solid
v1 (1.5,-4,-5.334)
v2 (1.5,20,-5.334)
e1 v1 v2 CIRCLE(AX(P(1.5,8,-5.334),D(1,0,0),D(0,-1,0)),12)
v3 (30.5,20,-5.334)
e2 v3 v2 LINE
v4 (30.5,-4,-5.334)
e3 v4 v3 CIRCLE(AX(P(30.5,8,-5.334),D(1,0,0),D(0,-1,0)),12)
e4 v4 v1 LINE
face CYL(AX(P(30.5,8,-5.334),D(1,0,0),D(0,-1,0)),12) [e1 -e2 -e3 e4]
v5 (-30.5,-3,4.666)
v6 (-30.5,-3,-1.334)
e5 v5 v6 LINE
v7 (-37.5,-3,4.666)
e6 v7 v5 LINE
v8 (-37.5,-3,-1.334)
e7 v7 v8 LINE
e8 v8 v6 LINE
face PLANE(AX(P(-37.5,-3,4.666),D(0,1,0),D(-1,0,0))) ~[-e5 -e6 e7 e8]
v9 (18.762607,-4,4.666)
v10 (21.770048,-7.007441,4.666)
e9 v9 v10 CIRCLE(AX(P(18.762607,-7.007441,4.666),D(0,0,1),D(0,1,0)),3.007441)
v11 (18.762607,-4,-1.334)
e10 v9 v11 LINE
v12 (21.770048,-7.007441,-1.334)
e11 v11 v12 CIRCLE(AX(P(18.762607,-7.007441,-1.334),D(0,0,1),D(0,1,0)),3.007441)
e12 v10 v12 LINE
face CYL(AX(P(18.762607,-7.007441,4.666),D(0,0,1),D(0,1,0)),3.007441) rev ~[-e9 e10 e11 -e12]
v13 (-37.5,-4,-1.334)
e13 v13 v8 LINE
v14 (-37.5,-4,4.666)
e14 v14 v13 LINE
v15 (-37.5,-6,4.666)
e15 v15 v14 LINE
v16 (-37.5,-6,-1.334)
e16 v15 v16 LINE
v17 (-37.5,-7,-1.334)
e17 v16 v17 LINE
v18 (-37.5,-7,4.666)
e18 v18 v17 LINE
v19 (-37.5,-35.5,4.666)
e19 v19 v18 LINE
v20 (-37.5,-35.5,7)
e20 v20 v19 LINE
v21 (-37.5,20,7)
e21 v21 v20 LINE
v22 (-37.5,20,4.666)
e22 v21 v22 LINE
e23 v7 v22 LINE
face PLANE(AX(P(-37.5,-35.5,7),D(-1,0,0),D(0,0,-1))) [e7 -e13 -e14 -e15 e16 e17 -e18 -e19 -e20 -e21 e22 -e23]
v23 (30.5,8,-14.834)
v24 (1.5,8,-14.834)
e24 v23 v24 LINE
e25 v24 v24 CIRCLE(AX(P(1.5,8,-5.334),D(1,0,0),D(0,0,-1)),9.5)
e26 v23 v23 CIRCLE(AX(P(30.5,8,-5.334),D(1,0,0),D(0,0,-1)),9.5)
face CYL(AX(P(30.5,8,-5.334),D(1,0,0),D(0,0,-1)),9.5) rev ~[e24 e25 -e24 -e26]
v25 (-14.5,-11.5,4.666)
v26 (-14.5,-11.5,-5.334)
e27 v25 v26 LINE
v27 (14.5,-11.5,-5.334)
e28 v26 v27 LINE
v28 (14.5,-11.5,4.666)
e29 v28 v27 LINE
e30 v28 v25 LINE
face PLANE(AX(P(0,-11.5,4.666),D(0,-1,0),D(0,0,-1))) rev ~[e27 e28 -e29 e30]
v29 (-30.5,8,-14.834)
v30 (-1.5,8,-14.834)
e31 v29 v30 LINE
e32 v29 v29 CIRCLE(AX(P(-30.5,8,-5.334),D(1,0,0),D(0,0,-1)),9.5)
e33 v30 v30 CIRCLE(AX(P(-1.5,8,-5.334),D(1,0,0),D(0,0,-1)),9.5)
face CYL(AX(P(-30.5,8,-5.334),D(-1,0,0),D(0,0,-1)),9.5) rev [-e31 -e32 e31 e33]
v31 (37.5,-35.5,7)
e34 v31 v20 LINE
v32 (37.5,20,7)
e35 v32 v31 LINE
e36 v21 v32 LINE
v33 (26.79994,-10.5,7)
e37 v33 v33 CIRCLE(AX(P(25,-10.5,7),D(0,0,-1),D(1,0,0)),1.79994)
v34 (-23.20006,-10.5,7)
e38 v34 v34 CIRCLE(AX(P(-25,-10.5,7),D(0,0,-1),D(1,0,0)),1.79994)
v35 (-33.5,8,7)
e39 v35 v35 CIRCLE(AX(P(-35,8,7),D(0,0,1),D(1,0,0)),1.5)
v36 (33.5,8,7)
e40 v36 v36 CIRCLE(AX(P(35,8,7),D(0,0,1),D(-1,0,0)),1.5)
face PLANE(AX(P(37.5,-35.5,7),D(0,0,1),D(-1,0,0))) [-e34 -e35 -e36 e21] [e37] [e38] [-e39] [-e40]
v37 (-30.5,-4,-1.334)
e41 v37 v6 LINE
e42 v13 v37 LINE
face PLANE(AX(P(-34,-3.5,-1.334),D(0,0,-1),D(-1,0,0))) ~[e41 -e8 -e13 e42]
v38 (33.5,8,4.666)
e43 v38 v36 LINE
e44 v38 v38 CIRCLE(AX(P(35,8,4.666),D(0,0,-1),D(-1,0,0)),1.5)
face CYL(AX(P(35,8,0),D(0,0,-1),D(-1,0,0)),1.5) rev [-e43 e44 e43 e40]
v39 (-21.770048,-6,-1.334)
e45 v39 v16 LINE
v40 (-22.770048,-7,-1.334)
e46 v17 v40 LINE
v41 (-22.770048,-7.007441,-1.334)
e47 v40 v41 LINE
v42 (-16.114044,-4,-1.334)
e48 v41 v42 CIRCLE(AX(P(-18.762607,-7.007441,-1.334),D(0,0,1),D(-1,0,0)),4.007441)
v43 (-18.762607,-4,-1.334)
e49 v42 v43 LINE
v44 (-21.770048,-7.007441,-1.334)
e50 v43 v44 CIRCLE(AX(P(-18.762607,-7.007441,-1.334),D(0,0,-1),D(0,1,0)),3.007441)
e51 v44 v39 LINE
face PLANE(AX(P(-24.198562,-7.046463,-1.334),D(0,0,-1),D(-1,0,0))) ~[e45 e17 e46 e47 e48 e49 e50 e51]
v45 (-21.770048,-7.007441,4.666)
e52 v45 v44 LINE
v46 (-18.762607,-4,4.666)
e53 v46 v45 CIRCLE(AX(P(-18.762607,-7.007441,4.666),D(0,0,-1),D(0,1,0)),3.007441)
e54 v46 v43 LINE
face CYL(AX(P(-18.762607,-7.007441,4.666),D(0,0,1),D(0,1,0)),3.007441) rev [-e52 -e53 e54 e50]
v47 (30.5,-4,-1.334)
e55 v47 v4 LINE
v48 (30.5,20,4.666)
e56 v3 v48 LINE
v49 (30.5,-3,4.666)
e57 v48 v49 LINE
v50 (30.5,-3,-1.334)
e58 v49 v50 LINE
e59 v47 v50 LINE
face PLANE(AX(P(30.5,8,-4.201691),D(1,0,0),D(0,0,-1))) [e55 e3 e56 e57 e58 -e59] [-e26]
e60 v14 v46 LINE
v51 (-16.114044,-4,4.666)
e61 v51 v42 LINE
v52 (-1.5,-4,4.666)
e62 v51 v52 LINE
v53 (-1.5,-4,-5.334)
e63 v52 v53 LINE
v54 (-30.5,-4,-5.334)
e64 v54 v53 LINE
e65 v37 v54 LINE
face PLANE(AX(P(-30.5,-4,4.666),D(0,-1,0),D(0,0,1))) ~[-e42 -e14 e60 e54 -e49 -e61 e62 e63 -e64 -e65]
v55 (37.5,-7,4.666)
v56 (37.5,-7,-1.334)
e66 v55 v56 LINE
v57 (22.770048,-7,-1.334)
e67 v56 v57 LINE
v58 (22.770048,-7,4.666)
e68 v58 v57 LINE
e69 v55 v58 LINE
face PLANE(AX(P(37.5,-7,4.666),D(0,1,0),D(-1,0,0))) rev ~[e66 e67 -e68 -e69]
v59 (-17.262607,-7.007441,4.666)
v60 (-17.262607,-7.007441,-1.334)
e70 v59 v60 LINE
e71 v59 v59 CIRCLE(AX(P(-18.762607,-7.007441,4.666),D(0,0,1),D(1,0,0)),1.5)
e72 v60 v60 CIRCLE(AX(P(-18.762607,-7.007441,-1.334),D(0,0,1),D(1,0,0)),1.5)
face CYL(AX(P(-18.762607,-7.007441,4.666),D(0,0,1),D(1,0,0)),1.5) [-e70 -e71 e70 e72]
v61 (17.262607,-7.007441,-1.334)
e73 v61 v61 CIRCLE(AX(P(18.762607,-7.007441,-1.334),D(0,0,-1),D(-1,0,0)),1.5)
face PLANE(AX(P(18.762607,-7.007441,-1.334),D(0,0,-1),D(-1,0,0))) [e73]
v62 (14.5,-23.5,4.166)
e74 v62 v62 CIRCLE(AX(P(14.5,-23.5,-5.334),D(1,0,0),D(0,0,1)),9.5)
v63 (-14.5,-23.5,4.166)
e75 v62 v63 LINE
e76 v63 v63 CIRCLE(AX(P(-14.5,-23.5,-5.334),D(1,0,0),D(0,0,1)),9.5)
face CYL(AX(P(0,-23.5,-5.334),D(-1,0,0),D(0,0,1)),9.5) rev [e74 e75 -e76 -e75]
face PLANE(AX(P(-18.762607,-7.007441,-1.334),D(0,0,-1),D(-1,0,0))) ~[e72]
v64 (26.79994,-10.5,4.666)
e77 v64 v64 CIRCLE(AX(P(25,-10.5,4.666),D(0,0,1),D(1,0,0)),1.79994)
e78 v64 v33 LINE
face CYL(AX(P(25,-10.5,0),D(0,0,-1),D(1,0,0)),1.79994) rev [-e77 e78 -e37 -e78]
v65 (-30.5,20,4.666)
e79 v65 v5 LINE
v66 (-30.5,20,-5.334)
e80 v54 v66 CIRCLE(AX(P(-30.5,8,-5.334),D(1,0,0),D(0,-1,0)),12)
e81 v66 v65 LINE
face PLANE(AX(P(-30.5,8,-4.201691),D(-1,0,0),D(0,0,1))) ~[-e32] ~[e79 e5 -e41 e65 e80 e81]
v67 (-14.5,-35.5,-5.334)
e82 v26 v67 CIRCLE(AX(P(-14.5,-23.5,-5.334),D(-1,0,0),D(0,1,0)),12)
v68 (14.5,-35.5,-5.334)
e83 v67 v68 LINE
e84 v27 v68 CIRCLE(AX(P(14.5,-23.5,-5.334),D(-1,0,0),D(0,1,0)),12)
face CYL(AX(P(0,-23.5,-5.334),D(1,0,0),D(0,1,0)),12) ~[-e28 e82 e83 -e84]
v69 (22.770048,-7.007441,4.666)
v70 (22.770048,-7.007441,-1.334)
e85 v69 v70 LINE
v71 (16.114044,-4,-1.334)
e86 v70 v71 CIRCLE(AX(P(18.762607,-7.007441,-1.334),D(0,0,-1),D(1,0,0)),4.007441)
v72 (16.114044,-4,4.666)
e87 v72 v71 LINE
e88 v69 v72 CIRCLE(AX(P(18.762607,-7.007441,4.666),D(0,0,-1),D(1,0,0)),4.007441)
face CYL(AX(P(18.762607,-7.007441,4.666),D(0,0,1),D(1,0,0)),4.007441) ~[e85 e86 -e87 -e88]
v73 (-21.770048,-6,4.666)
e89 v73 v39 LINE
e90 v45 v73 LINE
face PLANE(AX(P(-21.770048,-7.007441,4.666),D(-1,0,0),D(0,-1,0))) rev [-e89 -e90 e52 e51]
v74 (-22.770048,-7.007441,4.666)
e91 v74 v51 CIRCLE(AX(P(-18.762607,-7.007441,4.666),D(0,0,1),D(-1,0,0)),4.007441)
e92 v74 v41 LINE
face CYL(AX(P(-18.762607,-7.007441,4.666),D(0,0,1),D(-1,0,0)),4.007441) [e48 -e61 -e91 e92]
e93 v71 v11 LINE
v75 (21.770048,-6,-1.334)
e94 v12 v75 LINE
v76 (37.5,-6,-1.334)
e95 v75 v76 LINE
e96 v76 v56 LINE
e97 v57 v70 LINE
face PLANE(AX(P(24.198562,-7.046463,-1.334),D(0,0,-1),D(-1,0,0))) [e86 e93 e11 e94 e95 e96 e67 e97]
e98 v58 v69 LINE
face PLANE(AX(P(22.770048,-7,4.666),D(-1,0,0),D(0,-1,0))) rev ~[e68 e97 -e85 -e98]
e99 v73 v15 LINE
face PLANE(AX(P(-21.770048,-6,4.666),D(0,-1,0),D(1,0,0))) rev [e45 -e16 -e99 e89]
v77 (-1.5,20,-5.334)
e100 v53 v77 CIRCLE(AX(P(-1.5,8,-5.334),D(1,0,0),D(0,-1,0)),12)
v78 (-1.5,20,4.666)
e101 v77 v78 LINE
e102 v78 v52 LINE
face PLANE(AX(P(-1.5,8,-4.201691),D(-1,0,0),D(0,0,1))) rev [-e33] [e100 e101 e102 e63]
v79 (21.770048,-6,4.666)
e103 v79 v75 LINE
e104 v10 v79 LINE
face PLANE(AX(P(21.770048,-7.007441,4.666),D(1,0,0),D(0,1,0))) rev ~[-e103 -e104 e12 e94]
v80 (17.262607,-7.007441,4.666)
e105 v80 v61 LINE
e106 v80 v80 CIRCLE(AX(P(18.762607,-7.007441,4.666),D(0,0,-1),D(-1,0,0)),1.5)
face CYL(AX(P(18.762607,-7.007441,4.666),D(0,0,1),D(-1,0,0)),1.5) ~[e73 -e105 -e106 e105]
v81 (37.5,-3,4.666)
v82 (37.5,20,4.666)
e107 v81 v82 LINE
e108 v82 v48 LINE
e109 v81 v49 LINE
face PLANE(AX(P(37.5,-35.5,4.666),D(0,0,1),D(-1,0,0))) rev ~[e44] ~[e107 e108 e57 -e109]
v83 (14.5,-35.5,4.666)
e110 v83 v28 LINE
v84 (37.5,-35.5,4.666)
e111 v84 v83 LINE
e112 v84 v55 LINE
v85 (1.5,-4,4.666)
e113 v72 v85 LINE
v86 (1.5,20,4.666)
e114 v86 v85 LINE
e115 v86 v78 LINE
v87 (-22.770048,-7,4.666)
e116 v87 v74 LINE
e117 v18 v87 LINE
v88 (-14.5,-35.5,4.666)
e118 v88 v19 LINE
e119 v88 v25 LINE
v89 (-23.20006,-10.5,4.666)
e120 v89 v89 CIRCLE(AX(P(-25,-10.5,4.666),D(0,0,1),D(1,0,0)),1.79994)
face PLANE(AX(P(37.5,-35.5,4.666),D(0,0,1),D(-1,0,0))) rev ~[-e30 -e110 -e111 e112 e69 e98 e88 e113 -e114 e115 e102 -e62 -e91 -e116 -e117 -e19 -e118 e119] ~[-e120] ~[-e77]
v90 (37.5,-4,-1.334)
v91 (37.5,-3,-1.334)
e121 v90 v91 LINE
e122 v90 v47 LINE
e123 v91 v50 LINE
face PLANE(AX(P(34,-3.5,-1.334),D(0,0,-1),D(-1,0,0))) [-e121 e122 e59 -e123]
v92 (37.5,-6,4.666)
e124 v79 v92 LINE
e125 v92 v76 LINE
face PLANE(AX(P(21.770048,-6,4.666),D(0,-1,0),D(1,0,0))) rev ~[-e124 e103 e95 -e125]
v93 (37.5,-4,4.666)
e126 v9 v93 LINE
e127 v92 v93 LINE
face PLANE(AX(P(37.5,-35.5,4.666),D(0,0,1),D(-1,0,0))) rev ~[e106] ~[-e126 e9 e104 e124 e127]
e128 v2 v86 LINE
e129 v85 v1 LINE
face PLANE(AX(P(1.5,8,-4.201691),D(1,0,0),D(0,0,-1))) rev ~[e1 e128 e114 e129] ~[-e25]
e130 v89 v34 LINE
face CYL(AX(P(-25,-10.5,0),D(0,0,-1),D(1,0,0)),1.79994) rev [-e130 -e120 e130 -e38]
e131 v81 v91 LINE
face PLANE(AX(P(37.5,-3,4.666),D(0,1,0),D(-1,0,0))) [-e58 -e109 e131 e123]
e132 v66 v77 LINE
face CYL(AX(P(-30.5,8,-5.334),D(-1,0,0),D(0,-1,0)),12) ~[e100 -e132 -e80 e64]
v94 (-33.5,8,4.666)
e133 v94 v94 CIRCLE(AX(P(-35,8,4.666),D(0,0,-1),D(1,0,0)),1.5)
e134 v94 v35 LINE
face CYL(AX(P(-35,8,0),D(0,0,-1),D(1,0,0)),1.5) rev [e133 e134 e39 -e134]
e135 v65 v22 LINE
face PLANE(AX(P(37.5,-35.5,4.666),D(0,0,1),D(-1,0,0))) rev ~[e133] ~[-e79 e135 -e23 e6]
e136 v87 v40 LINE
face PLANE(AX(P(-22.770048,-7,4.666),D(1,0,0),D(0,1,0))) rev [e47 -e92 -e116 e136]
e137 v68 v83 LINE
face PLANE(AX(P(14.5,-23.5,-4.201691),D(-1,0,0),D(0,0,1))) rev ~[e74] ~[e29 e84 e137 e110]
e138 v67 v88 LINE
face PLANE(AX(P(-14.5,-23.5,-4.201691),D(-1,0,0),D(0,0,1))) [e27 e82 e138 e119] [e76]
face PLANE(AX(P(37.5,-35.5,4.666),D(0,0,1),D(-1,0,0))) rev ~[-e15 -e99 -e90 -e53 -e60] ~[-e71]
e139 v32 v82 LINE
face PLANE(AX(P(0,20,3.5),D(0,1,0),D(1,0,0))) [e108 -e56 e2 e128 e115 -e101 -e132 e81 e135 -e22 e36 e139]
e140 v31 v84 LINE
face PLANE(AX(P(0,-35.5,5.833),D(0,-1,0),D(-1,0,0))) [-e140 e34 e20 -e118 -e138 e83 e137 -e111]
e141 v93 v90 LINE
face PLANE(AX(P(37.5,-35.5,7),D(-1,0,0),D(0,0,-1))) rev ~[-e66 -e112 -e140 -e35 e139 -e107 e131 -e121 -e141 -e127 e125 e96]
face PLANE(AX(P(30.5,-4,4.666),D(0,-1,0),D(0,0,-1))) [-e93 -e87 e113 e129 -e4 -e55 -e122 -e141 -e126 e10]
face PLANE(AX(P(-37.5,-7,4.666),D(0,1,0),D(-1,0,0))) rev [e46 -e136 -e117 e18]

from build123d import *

# Parameters (mm, degrees)
SKETCH1_R              = 1.79994
SKETCH1_R_2            = 1.5
BOSS_EXTRUDE1_DEPTH    = 7
SKETCH2_W              = 75
SKETCH2_H              = 13.099999962
SKETCH2_R              = 2.6999438
SKETCH2_R_2            = 2.499995
SKETCH2_R_3            = 1.3498449
BOSS_EXTRUDE2_DEPTH    = 6.987999994
SKETCH2_3_R            = 2.6999438
SKETCH2_3_R_2          = 1.3498449
CUT_EXTRUDE1_DEPTH     = 2.5
SKETCH5_W              = 75
SKETCH5_H              = 13.099999962
CUT_EXTRUDE3_DEPTH     = 21.082
SKETCH6_W              = 75
SKETCH6_H              = 7
BOSS_EXTRUDE3_DEPTH    = 9.5
SKETCH8_W              = 75
SKETCH8_H              = 38.030205227
CUT_EXTRUDE4_DEPTH     = 4.666
SKETCH10_W             = 75
SKETCH10_H             = 2.334
BOSS_EXTRUDE5_DEPTH    = 25.000000038
SKETCH11_R             = 1.79994
CUT_EXTRUDE5_DEPTH     = 5
SKETCH15_W             = 44.653530321
SKETCH15_H             = 13.617301916
SKETCH15_W_2           = 11.728266088
SKETCH15_H_2           = 5.987537529
BOSS_EXTRUDE7_DEPTH    = 2.334
SKETCH16_R             = 9.5
BOSS_EXTRUDE9_DEPTH    = 29
SKETCH17_R             = 9.5
BOSS_EXTRUDE11_DEPTH   = 14.5
SKETCH18_W             = 6.99999997
SKETCH18_H             = 1
BOSS_EXTRUDE12_DEPTH   = 6
BOSS_EXTRUDE12_2_DEPTH = 6
SKETCH18_R             = 1.5
BOSS_EXTRUDE12_3_DEPTH = 6


with BuildPart() as part:
    # Sketch1 → Boss-Extrude1 (new body)
    with BuildSketch(Plane.XY):
        with BuildLine():
            Line((37.5, -10.5), (30, -10.5))
            ThreePointArc((30, -10.5), (25, -15.5), (20, -10.5))
            Line((20, -10.5), (5, -10.5))
            ThreePointArc((5, -10.5), (0, -15.5), (-5, -10.5))
            Line((-5, -10.5), (-20, -10.5))
            ThreePointArc((-20, -10.5), (-25, -15.5), (-30, -10.5))
            Line((-30, -10.5), (-37.5, -10.5))
            Line((-37.5, -10.5), (-37.5, 10.5))
            Line((-37.5, 10.5), (37.5, 10.5))
            Line((37.5, 10.5), (37.5, -10.5))
        make_face()
        with Locations((-25, -10.5)):
            Circle(SKETCH1_R, mode=Mode.SUBTRACT)
        with Locations((0, -10.5)):
            Circle(SKETCH1_R, mode=Mode.SUBTRACT)
        with Locations((25, -10.5)):
            Circle(SKETCH1_R, mode=Mode.SUBTRACT)
        with Locations((-35, 8)):
            Circle(SKETCH1_R_2, mode=Mode.SUBTRACT)
        with Locations(Location((-15, 8, 0), (0, 0, 180))):
            Circle(SKETCH1_R_2, mode=Mode.SUBTRACT)
        with Locations((-10, 8)):
            Circle(SKETCH1_R_2, mode=Mode.SUBTRACT)
        with Locations(Location((10, 8, 0), (0, 0, 180))):
            Circle(SKETCH1_R_2, mode=Mode.SUBTRACT)
        with Locations(Location((35, 8, 0), (0, 0, 180))):
            Circle(SKETCH1_R_2, mode=Mode.SUBTRACT)
        with Locations((15, 8)):
            Circle(SKETCH1_R_2, mode=Mode.SUBTRACT)
    extrude(amount=BOSS_EXTRUDE1_DEPTH)

    # Sketch2 → Boss-Extrude2 (add)
    # profile 1 of 7: a face of its own
    with BuildSketch(Plane(origin=(0, 2.24999999, 0), x_dir=(1, 0, 0), z_dir=(0, 1, 0))):
        with Locations((0, -13.549999981)):
            Rectangle(SKETCH2_W, SKETCH2_H)
        with Locations((31.0001404, -13.549999981)):
            Circle(SKETCH2_R, mode=Mode.SUBTRACT)
        with Locations((-31.0001404, -13.549999981)):
            Circle(SKETCH2_R, mode=Mode.SUBTRACT)
        with Locations(Location((-25, -13.549999981, 0), (0, 0, 180))):
            Circle(SKETCH2_R_2, mode=Mode.SUBTRACT)
        with Locations((-6.0001404, -13.549999981)):
            Circle(SKETCH2_R, mode=Mode.SUBTRACT)
        with Locations((6.0001404, -13.549999981)):
            Circle(SKETCH2_R, mode=Mode.SUBTRACT)
        with Locations(Location((0, -13.549999981, 0), (0, 0, 180))):
            Circle(SKETCH2_R_2, mode=Mode.SUBTRACT)
        with Locations((-18.9998596, -13.549999981)):
            Circle(SKETCH2_R, mode=Mode.SUBTRACT)
        with Locations(Location((25, -13.549999981, 0), (0, 0, 180))):
            Circle(SKETCH2_R_2, mode=Mode.SUBTRACT)
        with Locations((18.9998596, -13.549999981)):
            Circle(SKETCH2_R, mode=Mode.SUBTRACT)
    # profile 2 of 7: a face of its own
    with BuildSketch(Plane(origin=(0, 2.24999999, 0), x_dir=(1, 0, 0), z_dir=(0, 1, 0))):
        with Locations((-31.0001404, -13.549999981)):
            Circle(SKETCH2_R)
        with Locations(Location((-31.0001404, -13.549999981, 0), (0, 0, 180))):
            Circle(SKETCH2_R_3, mode=Mode.SUBTRACT)
    # profile 3 of 7: a face of its own
    with BuildSketch(Plane(origin=(0, 2.24999999, 0), x_dir=(1, 0, 0), z_dir=(0, 1, 0))):
        with Locations((-18.9998596, -13.549999981)):
            Circle(SKETCH2_R)
        with Locations(Location((-18.9998596, -13.549999981, 0), (0, 0, 180))):
            Circle(SKETCH2_R_3, mode=Mode.SUBTRACT)
    # profile 4 of 7: a face of its own
    with BuildSketch(Plane(origin=(0, 2.24999999, 0), x_dir=(1, 0, 0), z_dir=(0, 1, 0))):
        with Locations((-6.0001404, -13.549999981)):
            Circle(SKETCH2_R)
        with Locations(Location((-6.0001404, -13.549999981, 0), (0, 0, 180))):
            Circle(SKETCH2_R_3, mode=Mode.SUBTRACT)
    # profile 5 of 7: a face of its own
    with BuildSketch(Plane(origin=(0, 2.24999999, 0), x_dir=(1, 0, 0), z_dir=(0, 1, 0))):
        with Locations((6.0001404, -13.549999981)):
            Circle(SKETCH2_R)
        with Locations(Location((6.0001404, -13.549999981, 0), (0, 0, 180))):
            Circle(SKETCH2_R_3, mode=Mode.SUBTRACT)
    # profile 6 of 7: a face of its own
    with BuildSketch(Plane(origin=(0, 2.24999999, 0), x_dir=(1, 0, 0), z_dir=(0, 1, 0))):
        with Locations((18.9998596, -13.549999981)):
            Circle(SKETCH2_R)
        with Locations(Location((18.9998596, -13.549999981, 0), (0, 0, 180))):
            Circle(SKETCH2_R_3, mode=Mode.SUBTRACT)
    # profile 7 of 7: a face of its own
    with BuildSketch(Plane(origin=(0, 2.24999999, 0), x_dir=(1, 0, 0), z_dir=(0, 1, 0))):
        with Locations((31.0001404, -13.549999981)):
            Circle(SKETCH2_R)
        with Locations(Location((31.0001404, -13.549999981, 0), (0, 0, 180))):
            Circle(SKETCH2_R_3, mode=Mode.SUBTRACT)
    extrude(amount=-BOSS_EXTRUDE2_DEPTH)

    # Sketch2<3> → Cut-Extrude1 (cut)
    # profile 1 of 6: a face of its own
    with BuildSketch(Plane(origin=(0, 2.24999999, 0), x_dir=(1, 0, 0), z_dir=(0, 1, 0))):
        with Locations(Location((-31.0001404, -13.549999981, 0), (0, 0, 180))):
            Circle(SKETCH2_3_R)
        with Locations(Location((-31.0001404, -13.549999981, 0), (0, 0, 180))):
            Circle(SKETCH2_3_R_2, mode=Mode.SUBTRACT)
    # profile 2 of 6: a face of its own
    with BuildSketch(Plane(origin=(0, 2.24999999, 0), x_dir=(1, 0, 0), z_dir=(0, 1, 0))):
        with Locations(Location((-18.9998596, -13.549999981, 0), (0, 0, 180))):
            Circle(SKETCH2_3_R)
        with Locations(Location((-18.9998596, -13.549999981, 0), (0, 0, 180))):
            Circle(SKETCH2_3_R_2, mode=Mode.SUBTRACT)
    # profile 3 of 6: a face of its own
    with BuildSketch(Plane(origin=(0, 2.24999999, 0), x_dir=(1, 0, 0), z_dir=(0, 1, 0))):
        with Locations(Location((-6.0001404, -13.549999981, 0), (0, 0, 180))):
            Circle(SKETCH2_3_R)
        with Locations(Location((-6.0001404, -13.549999981, 0), (0, 0, 180))):
            Circle(SKETCH2_3_R_2, mode=Mode.SUBTRACT)
    # profile 4 of 6: a face of its own
    with BuildSketch(Plane(origin=(0, 2.24999999, 0), x_dir=(1, 0, 0), z_dir=(0, 1, 0))):
        with Locations(Location((6.0001404, -13.549999981, 0), (0, 0, 180))):
            Circle(SKETCH2_3_R)
        with Locations(Location((6.0001404, -13.549999981, 0), (0, 0, 180))):
            Circle(SKETCH2_3_R_2, mode=Mode.SUBTRACT)
    # profile 5 of 6: a face of its own
    with BuildSketch(Plane(origin=(0, 2.24999999, 0), x_dir=(1, 0, 0), z_dir=(0, 1, 0))):
        with Locations(Location((18.9998596, -13.549999981, 0), (0, 0, 180))):
            Circle(SKETCH2_3_R)
        with Locations(Location((18.9998596, -13.549999981, 0), (0, 0, 180))):
            Circle(SKETCH2_3_R_2, mode=Mode.SUBTRACT)
    # profile 6 of 6: a face of its own
    with BuildSketch(Plane(origin=(0, 2.24999999, 0), x_dir=(1, 0, 0), z_dir=(0, 1, 0))):
        with Locations(Location((31.0001404, -13.549999981, 0), (0, 0, 180))):
            Circle(SKETCH2_3_R)
        with Locations(Location((31.0001404, -13.549999981, 0), (0, 0, 180))):
            Circle(SKETCH2_3_R_2, mode=Mode.SUBTRACT)
    extrude(amount=-CUT_EXTRUDE1_DEPTH, mode=Mode.SUBTRACT)

    # Sketch5 → Cut-Extrude3 (cut)
    with BuildSketch(Plane(origin=(0, 2.24999999, 0), x_dir=(1, 0, 0), z_dir=(0, 1, 0))):
        with Locations((0, -13.549999981)):
            Rectangle(SKETCH5_W, SKETCH5_H)
    extrude(amount=-CUT_EXTRUDE3_DEPTH, mode=Mode.SUBTRACT)

    # Sketch6 → Boss-Extrude3 (add)
    with BuildSketch(Plane(origin=(0, 10.5, 0), x_dir=(1, 0, 0), z_dir=(0, 1, 0))):
        with Locations((0, -3.5)):
            Rectangle(SKETCH6_W, SKETCH6_H)
    extrude(amount=BOSS_EXTRUDE3_DEPTH)

    # Sketch8 → Cut-Extrude4 (cut)
    with BuildSketch(Plane(origin=(0, 0, 0), x_dir=(-1, 0, 0), z_dir=(0, 0, -1))):
        with Locations((0, 0.984897387)):
            Rectangle(SKETCH8_W, SKETCH8_H)
    extrude(amount=-CUT_EXTRUDE4_DEPTH, mode=Mode.SUBTRACT)

    # Sketch10 → Boss-Extrude5 (add)
    with BuildSketch(Plane(origin=(0, -35.500000038, 0), x_dir=(-1, 0, 0), z_dir=(0, -1, 0))):
        with Locations((0, -5.833)):
            Rectangle(SKETCH10_W, SKETCH10_H)
    extrude(amount=-BOSS_EXTRUDE5_DEPTH)

    # Sketch11 → Cut-Extrude5 (cut)
    with BuildSketch(Plane(origin=(0, 0, 4.666), x_dir=(-1, 0, 0), z_dir=(0, 0, -1))):
        with Locations((-25, -10.5)):
            Circle(SKETCH11_R)
        with Locations((0, -10.5)):
            Circle(SKETCH11_R)
        with Locations((25, -10.5)):
            Circle(SKETCH11_R)
    extrude(amount=-CUT_EXTRUDE5_DEPTH, mode=Mode.SUBTRACT)

    # Sketch15 → Boss-Extrude7 (add)
    with BuildSketch(Plane.XY.offset(7)):
        with Locations((1.804442165, 8.803924913)):
            Rectangle(SKETCH15_W, SKETCH15_H)
        with Locations((-1.501191344, -11.287680254)):
            Rectangle(SKETCH15_W_2, SKETCH15_H_2)
    extrude(amount=-BOSS_EXTRUDE7_DEPTH)


with BuildPart() as body_2:
    # Sketch16 → Boss-Extrude9 (new body)
    with BuildSketch(Plane(origin=(30.50000003, 0, 0), x_dir=(0, 0, -1), z_dir=(1, 0, 0))):
        with BuildLine():
            Line((-4.666, 9.5), (-4.666, 6.5))
            Line((-4.666, 6.5), (-4.666, -4))
            Line((-4.666, -4), (5.334, -4))
            ThreePointArc((5.334, -4), (17.334, 8), (5.334, 20))
            Line((5.334, 20), (-4.666, 20))
            Line((-4.666, 20), (-4.666, 9.5))
        make_face()
        with Locations((5.334, 8)):
            Circle(SKETCH16_R, mode=Mode.SUBTRACT)
    extrude(amount=-BOSS_EXTRUDE9_DEPTH)


with BuildPart() as body_3:
    # Mirror1: mirrored copy
    add(body_2.part.mirror(Plane(origin=(0, 0, 0), x_dir=(0, 0, 1), z_dir=(1, 0, 0))))

    # Combine1: union body 2, part
    add(body_2.part)
    add(part.part)

    # Sketch17 → Boss-Extrude11 (add, symmetric)
    with BuildSketch(Plane(origin=(0, 0, 0), x_dir=(0, 0, -1), z_dir=(1, 0, 0))):
        with BuildLine():
            Line((5.334, -35.500000038), (-4.666, -35.500000038))
            Line((-4.666, -35.500000038), (-4.666, -11.500000038))
            Line((-4.666, -11.500000038), (5.334, -11.500000038))
            ThreePointArc((5.334, -11.500000038), (17.334, -23.500000038), (5.334, -35.500000038))
        make_face()
        with Locations(Location((5.334, -23.500000038, 0), (0, 0, 180))):
            Circle(SKETCH17_R, mode=Mode.SUBTRACT)
    extrude(amount=BOSS_EXTRUDE11_DEPTH, both=True)


with BuildPart() as body_2_2:
    # Sketch18 → Boss-Extrude12 (new body)
    with BuildSketch(Plane(origin=(0, 0, 4.666), x_dir=(-1, 0, 0), z_dir=(0, 0, -1))):
        with Locations((-34.000000015, -3.5)):
            Rectangle(SKETCH18_W, SKETCH18_H)
    extrude(amount=BOSS_EXTRUDE12_DEPTH)


with BuildPart() as body_3_2:
    # Sketch18 → Boss-Extrude12 2 (new body)
    with BuildSketch(Plane(origin=(0, 0, 4.666), x_dir=(-1, 0, 0), z_dir=(0, 0, -1))):
        with BuildLine():
            Line((-16.114044259, -4), (-18.762606579, -4))
            ThreePointArc((-18.762606579, -4), (-16.636024525, -9.134023236), (-21.770047761, -7.007441182))
            Line((-21.770047761, -7.007441182), (-21.770047761, -6))
            Line((-21.770047761, -6), (-37.5, -6))
            Line((-37.5, -6), (-37.5, -7))
            Line((-37.5, -7), (-22.770047761, -7))
            Line((-22.770047761, -7), (-22.770047761, -7.007441182))
            ThreePointArc((-22.770047761, -7.007441182), (-17.112511564, -10.659395628), (-16.114044259, -4))
        make_face()
    extrude(amount=BOSS_EXTRUDE12_2_DEPTH)


with BuildPart() as body_4:
    # Sketch18 → Boss-Extrude12 3 (new body)
    with BuildSketch(Plane(origin=(0, 0, 4.666), x_dir=(-1, 0, 0), z_dir=(0, 0, -1))):
        with Locations((-18.762606579, -7.007441182)):
            Circle(SKETCH18_R)
    extrude(amount=BOSS_EXTRUDE12_3_DEPTH)


with BuildPart() as body_5:
    # Mirror2: mirrored copy
    add(body_3_2.part.mirror(Plane(origin=(0, 0, 0), x_dir=(0, 0, 1), z_dir=(1, 0, 0))))


with BuildPart() as body_6:
    # Mirror2 2: mirrored copy
    add(body_4.part.mirror(Plane(origin=(0, 0, 0), x_dir=(0, 0, 1), z_dir=(1, 0, 0))))


with BuildPart() as body_7:
    # Mirror2 3: mirrored copy
    add(body_2_2.part.mirror(Plane(origin=(0, 0, 0), x_dir=(0, 0, 1), z_dir=(1, 0, 0))))


with BuildPart() as body_5_1:
    add(body_5.part)

    # Combine2: union body 7, body 2 2, body 4, body 3 2, body 3, body 6
    add(body_7.part)
    add(body_2_2.part)
    add(body_4.part)
    add(body_3_2.part)
    add(body_3.part)
    add(body_6.part)


solid = body_5_1.part
